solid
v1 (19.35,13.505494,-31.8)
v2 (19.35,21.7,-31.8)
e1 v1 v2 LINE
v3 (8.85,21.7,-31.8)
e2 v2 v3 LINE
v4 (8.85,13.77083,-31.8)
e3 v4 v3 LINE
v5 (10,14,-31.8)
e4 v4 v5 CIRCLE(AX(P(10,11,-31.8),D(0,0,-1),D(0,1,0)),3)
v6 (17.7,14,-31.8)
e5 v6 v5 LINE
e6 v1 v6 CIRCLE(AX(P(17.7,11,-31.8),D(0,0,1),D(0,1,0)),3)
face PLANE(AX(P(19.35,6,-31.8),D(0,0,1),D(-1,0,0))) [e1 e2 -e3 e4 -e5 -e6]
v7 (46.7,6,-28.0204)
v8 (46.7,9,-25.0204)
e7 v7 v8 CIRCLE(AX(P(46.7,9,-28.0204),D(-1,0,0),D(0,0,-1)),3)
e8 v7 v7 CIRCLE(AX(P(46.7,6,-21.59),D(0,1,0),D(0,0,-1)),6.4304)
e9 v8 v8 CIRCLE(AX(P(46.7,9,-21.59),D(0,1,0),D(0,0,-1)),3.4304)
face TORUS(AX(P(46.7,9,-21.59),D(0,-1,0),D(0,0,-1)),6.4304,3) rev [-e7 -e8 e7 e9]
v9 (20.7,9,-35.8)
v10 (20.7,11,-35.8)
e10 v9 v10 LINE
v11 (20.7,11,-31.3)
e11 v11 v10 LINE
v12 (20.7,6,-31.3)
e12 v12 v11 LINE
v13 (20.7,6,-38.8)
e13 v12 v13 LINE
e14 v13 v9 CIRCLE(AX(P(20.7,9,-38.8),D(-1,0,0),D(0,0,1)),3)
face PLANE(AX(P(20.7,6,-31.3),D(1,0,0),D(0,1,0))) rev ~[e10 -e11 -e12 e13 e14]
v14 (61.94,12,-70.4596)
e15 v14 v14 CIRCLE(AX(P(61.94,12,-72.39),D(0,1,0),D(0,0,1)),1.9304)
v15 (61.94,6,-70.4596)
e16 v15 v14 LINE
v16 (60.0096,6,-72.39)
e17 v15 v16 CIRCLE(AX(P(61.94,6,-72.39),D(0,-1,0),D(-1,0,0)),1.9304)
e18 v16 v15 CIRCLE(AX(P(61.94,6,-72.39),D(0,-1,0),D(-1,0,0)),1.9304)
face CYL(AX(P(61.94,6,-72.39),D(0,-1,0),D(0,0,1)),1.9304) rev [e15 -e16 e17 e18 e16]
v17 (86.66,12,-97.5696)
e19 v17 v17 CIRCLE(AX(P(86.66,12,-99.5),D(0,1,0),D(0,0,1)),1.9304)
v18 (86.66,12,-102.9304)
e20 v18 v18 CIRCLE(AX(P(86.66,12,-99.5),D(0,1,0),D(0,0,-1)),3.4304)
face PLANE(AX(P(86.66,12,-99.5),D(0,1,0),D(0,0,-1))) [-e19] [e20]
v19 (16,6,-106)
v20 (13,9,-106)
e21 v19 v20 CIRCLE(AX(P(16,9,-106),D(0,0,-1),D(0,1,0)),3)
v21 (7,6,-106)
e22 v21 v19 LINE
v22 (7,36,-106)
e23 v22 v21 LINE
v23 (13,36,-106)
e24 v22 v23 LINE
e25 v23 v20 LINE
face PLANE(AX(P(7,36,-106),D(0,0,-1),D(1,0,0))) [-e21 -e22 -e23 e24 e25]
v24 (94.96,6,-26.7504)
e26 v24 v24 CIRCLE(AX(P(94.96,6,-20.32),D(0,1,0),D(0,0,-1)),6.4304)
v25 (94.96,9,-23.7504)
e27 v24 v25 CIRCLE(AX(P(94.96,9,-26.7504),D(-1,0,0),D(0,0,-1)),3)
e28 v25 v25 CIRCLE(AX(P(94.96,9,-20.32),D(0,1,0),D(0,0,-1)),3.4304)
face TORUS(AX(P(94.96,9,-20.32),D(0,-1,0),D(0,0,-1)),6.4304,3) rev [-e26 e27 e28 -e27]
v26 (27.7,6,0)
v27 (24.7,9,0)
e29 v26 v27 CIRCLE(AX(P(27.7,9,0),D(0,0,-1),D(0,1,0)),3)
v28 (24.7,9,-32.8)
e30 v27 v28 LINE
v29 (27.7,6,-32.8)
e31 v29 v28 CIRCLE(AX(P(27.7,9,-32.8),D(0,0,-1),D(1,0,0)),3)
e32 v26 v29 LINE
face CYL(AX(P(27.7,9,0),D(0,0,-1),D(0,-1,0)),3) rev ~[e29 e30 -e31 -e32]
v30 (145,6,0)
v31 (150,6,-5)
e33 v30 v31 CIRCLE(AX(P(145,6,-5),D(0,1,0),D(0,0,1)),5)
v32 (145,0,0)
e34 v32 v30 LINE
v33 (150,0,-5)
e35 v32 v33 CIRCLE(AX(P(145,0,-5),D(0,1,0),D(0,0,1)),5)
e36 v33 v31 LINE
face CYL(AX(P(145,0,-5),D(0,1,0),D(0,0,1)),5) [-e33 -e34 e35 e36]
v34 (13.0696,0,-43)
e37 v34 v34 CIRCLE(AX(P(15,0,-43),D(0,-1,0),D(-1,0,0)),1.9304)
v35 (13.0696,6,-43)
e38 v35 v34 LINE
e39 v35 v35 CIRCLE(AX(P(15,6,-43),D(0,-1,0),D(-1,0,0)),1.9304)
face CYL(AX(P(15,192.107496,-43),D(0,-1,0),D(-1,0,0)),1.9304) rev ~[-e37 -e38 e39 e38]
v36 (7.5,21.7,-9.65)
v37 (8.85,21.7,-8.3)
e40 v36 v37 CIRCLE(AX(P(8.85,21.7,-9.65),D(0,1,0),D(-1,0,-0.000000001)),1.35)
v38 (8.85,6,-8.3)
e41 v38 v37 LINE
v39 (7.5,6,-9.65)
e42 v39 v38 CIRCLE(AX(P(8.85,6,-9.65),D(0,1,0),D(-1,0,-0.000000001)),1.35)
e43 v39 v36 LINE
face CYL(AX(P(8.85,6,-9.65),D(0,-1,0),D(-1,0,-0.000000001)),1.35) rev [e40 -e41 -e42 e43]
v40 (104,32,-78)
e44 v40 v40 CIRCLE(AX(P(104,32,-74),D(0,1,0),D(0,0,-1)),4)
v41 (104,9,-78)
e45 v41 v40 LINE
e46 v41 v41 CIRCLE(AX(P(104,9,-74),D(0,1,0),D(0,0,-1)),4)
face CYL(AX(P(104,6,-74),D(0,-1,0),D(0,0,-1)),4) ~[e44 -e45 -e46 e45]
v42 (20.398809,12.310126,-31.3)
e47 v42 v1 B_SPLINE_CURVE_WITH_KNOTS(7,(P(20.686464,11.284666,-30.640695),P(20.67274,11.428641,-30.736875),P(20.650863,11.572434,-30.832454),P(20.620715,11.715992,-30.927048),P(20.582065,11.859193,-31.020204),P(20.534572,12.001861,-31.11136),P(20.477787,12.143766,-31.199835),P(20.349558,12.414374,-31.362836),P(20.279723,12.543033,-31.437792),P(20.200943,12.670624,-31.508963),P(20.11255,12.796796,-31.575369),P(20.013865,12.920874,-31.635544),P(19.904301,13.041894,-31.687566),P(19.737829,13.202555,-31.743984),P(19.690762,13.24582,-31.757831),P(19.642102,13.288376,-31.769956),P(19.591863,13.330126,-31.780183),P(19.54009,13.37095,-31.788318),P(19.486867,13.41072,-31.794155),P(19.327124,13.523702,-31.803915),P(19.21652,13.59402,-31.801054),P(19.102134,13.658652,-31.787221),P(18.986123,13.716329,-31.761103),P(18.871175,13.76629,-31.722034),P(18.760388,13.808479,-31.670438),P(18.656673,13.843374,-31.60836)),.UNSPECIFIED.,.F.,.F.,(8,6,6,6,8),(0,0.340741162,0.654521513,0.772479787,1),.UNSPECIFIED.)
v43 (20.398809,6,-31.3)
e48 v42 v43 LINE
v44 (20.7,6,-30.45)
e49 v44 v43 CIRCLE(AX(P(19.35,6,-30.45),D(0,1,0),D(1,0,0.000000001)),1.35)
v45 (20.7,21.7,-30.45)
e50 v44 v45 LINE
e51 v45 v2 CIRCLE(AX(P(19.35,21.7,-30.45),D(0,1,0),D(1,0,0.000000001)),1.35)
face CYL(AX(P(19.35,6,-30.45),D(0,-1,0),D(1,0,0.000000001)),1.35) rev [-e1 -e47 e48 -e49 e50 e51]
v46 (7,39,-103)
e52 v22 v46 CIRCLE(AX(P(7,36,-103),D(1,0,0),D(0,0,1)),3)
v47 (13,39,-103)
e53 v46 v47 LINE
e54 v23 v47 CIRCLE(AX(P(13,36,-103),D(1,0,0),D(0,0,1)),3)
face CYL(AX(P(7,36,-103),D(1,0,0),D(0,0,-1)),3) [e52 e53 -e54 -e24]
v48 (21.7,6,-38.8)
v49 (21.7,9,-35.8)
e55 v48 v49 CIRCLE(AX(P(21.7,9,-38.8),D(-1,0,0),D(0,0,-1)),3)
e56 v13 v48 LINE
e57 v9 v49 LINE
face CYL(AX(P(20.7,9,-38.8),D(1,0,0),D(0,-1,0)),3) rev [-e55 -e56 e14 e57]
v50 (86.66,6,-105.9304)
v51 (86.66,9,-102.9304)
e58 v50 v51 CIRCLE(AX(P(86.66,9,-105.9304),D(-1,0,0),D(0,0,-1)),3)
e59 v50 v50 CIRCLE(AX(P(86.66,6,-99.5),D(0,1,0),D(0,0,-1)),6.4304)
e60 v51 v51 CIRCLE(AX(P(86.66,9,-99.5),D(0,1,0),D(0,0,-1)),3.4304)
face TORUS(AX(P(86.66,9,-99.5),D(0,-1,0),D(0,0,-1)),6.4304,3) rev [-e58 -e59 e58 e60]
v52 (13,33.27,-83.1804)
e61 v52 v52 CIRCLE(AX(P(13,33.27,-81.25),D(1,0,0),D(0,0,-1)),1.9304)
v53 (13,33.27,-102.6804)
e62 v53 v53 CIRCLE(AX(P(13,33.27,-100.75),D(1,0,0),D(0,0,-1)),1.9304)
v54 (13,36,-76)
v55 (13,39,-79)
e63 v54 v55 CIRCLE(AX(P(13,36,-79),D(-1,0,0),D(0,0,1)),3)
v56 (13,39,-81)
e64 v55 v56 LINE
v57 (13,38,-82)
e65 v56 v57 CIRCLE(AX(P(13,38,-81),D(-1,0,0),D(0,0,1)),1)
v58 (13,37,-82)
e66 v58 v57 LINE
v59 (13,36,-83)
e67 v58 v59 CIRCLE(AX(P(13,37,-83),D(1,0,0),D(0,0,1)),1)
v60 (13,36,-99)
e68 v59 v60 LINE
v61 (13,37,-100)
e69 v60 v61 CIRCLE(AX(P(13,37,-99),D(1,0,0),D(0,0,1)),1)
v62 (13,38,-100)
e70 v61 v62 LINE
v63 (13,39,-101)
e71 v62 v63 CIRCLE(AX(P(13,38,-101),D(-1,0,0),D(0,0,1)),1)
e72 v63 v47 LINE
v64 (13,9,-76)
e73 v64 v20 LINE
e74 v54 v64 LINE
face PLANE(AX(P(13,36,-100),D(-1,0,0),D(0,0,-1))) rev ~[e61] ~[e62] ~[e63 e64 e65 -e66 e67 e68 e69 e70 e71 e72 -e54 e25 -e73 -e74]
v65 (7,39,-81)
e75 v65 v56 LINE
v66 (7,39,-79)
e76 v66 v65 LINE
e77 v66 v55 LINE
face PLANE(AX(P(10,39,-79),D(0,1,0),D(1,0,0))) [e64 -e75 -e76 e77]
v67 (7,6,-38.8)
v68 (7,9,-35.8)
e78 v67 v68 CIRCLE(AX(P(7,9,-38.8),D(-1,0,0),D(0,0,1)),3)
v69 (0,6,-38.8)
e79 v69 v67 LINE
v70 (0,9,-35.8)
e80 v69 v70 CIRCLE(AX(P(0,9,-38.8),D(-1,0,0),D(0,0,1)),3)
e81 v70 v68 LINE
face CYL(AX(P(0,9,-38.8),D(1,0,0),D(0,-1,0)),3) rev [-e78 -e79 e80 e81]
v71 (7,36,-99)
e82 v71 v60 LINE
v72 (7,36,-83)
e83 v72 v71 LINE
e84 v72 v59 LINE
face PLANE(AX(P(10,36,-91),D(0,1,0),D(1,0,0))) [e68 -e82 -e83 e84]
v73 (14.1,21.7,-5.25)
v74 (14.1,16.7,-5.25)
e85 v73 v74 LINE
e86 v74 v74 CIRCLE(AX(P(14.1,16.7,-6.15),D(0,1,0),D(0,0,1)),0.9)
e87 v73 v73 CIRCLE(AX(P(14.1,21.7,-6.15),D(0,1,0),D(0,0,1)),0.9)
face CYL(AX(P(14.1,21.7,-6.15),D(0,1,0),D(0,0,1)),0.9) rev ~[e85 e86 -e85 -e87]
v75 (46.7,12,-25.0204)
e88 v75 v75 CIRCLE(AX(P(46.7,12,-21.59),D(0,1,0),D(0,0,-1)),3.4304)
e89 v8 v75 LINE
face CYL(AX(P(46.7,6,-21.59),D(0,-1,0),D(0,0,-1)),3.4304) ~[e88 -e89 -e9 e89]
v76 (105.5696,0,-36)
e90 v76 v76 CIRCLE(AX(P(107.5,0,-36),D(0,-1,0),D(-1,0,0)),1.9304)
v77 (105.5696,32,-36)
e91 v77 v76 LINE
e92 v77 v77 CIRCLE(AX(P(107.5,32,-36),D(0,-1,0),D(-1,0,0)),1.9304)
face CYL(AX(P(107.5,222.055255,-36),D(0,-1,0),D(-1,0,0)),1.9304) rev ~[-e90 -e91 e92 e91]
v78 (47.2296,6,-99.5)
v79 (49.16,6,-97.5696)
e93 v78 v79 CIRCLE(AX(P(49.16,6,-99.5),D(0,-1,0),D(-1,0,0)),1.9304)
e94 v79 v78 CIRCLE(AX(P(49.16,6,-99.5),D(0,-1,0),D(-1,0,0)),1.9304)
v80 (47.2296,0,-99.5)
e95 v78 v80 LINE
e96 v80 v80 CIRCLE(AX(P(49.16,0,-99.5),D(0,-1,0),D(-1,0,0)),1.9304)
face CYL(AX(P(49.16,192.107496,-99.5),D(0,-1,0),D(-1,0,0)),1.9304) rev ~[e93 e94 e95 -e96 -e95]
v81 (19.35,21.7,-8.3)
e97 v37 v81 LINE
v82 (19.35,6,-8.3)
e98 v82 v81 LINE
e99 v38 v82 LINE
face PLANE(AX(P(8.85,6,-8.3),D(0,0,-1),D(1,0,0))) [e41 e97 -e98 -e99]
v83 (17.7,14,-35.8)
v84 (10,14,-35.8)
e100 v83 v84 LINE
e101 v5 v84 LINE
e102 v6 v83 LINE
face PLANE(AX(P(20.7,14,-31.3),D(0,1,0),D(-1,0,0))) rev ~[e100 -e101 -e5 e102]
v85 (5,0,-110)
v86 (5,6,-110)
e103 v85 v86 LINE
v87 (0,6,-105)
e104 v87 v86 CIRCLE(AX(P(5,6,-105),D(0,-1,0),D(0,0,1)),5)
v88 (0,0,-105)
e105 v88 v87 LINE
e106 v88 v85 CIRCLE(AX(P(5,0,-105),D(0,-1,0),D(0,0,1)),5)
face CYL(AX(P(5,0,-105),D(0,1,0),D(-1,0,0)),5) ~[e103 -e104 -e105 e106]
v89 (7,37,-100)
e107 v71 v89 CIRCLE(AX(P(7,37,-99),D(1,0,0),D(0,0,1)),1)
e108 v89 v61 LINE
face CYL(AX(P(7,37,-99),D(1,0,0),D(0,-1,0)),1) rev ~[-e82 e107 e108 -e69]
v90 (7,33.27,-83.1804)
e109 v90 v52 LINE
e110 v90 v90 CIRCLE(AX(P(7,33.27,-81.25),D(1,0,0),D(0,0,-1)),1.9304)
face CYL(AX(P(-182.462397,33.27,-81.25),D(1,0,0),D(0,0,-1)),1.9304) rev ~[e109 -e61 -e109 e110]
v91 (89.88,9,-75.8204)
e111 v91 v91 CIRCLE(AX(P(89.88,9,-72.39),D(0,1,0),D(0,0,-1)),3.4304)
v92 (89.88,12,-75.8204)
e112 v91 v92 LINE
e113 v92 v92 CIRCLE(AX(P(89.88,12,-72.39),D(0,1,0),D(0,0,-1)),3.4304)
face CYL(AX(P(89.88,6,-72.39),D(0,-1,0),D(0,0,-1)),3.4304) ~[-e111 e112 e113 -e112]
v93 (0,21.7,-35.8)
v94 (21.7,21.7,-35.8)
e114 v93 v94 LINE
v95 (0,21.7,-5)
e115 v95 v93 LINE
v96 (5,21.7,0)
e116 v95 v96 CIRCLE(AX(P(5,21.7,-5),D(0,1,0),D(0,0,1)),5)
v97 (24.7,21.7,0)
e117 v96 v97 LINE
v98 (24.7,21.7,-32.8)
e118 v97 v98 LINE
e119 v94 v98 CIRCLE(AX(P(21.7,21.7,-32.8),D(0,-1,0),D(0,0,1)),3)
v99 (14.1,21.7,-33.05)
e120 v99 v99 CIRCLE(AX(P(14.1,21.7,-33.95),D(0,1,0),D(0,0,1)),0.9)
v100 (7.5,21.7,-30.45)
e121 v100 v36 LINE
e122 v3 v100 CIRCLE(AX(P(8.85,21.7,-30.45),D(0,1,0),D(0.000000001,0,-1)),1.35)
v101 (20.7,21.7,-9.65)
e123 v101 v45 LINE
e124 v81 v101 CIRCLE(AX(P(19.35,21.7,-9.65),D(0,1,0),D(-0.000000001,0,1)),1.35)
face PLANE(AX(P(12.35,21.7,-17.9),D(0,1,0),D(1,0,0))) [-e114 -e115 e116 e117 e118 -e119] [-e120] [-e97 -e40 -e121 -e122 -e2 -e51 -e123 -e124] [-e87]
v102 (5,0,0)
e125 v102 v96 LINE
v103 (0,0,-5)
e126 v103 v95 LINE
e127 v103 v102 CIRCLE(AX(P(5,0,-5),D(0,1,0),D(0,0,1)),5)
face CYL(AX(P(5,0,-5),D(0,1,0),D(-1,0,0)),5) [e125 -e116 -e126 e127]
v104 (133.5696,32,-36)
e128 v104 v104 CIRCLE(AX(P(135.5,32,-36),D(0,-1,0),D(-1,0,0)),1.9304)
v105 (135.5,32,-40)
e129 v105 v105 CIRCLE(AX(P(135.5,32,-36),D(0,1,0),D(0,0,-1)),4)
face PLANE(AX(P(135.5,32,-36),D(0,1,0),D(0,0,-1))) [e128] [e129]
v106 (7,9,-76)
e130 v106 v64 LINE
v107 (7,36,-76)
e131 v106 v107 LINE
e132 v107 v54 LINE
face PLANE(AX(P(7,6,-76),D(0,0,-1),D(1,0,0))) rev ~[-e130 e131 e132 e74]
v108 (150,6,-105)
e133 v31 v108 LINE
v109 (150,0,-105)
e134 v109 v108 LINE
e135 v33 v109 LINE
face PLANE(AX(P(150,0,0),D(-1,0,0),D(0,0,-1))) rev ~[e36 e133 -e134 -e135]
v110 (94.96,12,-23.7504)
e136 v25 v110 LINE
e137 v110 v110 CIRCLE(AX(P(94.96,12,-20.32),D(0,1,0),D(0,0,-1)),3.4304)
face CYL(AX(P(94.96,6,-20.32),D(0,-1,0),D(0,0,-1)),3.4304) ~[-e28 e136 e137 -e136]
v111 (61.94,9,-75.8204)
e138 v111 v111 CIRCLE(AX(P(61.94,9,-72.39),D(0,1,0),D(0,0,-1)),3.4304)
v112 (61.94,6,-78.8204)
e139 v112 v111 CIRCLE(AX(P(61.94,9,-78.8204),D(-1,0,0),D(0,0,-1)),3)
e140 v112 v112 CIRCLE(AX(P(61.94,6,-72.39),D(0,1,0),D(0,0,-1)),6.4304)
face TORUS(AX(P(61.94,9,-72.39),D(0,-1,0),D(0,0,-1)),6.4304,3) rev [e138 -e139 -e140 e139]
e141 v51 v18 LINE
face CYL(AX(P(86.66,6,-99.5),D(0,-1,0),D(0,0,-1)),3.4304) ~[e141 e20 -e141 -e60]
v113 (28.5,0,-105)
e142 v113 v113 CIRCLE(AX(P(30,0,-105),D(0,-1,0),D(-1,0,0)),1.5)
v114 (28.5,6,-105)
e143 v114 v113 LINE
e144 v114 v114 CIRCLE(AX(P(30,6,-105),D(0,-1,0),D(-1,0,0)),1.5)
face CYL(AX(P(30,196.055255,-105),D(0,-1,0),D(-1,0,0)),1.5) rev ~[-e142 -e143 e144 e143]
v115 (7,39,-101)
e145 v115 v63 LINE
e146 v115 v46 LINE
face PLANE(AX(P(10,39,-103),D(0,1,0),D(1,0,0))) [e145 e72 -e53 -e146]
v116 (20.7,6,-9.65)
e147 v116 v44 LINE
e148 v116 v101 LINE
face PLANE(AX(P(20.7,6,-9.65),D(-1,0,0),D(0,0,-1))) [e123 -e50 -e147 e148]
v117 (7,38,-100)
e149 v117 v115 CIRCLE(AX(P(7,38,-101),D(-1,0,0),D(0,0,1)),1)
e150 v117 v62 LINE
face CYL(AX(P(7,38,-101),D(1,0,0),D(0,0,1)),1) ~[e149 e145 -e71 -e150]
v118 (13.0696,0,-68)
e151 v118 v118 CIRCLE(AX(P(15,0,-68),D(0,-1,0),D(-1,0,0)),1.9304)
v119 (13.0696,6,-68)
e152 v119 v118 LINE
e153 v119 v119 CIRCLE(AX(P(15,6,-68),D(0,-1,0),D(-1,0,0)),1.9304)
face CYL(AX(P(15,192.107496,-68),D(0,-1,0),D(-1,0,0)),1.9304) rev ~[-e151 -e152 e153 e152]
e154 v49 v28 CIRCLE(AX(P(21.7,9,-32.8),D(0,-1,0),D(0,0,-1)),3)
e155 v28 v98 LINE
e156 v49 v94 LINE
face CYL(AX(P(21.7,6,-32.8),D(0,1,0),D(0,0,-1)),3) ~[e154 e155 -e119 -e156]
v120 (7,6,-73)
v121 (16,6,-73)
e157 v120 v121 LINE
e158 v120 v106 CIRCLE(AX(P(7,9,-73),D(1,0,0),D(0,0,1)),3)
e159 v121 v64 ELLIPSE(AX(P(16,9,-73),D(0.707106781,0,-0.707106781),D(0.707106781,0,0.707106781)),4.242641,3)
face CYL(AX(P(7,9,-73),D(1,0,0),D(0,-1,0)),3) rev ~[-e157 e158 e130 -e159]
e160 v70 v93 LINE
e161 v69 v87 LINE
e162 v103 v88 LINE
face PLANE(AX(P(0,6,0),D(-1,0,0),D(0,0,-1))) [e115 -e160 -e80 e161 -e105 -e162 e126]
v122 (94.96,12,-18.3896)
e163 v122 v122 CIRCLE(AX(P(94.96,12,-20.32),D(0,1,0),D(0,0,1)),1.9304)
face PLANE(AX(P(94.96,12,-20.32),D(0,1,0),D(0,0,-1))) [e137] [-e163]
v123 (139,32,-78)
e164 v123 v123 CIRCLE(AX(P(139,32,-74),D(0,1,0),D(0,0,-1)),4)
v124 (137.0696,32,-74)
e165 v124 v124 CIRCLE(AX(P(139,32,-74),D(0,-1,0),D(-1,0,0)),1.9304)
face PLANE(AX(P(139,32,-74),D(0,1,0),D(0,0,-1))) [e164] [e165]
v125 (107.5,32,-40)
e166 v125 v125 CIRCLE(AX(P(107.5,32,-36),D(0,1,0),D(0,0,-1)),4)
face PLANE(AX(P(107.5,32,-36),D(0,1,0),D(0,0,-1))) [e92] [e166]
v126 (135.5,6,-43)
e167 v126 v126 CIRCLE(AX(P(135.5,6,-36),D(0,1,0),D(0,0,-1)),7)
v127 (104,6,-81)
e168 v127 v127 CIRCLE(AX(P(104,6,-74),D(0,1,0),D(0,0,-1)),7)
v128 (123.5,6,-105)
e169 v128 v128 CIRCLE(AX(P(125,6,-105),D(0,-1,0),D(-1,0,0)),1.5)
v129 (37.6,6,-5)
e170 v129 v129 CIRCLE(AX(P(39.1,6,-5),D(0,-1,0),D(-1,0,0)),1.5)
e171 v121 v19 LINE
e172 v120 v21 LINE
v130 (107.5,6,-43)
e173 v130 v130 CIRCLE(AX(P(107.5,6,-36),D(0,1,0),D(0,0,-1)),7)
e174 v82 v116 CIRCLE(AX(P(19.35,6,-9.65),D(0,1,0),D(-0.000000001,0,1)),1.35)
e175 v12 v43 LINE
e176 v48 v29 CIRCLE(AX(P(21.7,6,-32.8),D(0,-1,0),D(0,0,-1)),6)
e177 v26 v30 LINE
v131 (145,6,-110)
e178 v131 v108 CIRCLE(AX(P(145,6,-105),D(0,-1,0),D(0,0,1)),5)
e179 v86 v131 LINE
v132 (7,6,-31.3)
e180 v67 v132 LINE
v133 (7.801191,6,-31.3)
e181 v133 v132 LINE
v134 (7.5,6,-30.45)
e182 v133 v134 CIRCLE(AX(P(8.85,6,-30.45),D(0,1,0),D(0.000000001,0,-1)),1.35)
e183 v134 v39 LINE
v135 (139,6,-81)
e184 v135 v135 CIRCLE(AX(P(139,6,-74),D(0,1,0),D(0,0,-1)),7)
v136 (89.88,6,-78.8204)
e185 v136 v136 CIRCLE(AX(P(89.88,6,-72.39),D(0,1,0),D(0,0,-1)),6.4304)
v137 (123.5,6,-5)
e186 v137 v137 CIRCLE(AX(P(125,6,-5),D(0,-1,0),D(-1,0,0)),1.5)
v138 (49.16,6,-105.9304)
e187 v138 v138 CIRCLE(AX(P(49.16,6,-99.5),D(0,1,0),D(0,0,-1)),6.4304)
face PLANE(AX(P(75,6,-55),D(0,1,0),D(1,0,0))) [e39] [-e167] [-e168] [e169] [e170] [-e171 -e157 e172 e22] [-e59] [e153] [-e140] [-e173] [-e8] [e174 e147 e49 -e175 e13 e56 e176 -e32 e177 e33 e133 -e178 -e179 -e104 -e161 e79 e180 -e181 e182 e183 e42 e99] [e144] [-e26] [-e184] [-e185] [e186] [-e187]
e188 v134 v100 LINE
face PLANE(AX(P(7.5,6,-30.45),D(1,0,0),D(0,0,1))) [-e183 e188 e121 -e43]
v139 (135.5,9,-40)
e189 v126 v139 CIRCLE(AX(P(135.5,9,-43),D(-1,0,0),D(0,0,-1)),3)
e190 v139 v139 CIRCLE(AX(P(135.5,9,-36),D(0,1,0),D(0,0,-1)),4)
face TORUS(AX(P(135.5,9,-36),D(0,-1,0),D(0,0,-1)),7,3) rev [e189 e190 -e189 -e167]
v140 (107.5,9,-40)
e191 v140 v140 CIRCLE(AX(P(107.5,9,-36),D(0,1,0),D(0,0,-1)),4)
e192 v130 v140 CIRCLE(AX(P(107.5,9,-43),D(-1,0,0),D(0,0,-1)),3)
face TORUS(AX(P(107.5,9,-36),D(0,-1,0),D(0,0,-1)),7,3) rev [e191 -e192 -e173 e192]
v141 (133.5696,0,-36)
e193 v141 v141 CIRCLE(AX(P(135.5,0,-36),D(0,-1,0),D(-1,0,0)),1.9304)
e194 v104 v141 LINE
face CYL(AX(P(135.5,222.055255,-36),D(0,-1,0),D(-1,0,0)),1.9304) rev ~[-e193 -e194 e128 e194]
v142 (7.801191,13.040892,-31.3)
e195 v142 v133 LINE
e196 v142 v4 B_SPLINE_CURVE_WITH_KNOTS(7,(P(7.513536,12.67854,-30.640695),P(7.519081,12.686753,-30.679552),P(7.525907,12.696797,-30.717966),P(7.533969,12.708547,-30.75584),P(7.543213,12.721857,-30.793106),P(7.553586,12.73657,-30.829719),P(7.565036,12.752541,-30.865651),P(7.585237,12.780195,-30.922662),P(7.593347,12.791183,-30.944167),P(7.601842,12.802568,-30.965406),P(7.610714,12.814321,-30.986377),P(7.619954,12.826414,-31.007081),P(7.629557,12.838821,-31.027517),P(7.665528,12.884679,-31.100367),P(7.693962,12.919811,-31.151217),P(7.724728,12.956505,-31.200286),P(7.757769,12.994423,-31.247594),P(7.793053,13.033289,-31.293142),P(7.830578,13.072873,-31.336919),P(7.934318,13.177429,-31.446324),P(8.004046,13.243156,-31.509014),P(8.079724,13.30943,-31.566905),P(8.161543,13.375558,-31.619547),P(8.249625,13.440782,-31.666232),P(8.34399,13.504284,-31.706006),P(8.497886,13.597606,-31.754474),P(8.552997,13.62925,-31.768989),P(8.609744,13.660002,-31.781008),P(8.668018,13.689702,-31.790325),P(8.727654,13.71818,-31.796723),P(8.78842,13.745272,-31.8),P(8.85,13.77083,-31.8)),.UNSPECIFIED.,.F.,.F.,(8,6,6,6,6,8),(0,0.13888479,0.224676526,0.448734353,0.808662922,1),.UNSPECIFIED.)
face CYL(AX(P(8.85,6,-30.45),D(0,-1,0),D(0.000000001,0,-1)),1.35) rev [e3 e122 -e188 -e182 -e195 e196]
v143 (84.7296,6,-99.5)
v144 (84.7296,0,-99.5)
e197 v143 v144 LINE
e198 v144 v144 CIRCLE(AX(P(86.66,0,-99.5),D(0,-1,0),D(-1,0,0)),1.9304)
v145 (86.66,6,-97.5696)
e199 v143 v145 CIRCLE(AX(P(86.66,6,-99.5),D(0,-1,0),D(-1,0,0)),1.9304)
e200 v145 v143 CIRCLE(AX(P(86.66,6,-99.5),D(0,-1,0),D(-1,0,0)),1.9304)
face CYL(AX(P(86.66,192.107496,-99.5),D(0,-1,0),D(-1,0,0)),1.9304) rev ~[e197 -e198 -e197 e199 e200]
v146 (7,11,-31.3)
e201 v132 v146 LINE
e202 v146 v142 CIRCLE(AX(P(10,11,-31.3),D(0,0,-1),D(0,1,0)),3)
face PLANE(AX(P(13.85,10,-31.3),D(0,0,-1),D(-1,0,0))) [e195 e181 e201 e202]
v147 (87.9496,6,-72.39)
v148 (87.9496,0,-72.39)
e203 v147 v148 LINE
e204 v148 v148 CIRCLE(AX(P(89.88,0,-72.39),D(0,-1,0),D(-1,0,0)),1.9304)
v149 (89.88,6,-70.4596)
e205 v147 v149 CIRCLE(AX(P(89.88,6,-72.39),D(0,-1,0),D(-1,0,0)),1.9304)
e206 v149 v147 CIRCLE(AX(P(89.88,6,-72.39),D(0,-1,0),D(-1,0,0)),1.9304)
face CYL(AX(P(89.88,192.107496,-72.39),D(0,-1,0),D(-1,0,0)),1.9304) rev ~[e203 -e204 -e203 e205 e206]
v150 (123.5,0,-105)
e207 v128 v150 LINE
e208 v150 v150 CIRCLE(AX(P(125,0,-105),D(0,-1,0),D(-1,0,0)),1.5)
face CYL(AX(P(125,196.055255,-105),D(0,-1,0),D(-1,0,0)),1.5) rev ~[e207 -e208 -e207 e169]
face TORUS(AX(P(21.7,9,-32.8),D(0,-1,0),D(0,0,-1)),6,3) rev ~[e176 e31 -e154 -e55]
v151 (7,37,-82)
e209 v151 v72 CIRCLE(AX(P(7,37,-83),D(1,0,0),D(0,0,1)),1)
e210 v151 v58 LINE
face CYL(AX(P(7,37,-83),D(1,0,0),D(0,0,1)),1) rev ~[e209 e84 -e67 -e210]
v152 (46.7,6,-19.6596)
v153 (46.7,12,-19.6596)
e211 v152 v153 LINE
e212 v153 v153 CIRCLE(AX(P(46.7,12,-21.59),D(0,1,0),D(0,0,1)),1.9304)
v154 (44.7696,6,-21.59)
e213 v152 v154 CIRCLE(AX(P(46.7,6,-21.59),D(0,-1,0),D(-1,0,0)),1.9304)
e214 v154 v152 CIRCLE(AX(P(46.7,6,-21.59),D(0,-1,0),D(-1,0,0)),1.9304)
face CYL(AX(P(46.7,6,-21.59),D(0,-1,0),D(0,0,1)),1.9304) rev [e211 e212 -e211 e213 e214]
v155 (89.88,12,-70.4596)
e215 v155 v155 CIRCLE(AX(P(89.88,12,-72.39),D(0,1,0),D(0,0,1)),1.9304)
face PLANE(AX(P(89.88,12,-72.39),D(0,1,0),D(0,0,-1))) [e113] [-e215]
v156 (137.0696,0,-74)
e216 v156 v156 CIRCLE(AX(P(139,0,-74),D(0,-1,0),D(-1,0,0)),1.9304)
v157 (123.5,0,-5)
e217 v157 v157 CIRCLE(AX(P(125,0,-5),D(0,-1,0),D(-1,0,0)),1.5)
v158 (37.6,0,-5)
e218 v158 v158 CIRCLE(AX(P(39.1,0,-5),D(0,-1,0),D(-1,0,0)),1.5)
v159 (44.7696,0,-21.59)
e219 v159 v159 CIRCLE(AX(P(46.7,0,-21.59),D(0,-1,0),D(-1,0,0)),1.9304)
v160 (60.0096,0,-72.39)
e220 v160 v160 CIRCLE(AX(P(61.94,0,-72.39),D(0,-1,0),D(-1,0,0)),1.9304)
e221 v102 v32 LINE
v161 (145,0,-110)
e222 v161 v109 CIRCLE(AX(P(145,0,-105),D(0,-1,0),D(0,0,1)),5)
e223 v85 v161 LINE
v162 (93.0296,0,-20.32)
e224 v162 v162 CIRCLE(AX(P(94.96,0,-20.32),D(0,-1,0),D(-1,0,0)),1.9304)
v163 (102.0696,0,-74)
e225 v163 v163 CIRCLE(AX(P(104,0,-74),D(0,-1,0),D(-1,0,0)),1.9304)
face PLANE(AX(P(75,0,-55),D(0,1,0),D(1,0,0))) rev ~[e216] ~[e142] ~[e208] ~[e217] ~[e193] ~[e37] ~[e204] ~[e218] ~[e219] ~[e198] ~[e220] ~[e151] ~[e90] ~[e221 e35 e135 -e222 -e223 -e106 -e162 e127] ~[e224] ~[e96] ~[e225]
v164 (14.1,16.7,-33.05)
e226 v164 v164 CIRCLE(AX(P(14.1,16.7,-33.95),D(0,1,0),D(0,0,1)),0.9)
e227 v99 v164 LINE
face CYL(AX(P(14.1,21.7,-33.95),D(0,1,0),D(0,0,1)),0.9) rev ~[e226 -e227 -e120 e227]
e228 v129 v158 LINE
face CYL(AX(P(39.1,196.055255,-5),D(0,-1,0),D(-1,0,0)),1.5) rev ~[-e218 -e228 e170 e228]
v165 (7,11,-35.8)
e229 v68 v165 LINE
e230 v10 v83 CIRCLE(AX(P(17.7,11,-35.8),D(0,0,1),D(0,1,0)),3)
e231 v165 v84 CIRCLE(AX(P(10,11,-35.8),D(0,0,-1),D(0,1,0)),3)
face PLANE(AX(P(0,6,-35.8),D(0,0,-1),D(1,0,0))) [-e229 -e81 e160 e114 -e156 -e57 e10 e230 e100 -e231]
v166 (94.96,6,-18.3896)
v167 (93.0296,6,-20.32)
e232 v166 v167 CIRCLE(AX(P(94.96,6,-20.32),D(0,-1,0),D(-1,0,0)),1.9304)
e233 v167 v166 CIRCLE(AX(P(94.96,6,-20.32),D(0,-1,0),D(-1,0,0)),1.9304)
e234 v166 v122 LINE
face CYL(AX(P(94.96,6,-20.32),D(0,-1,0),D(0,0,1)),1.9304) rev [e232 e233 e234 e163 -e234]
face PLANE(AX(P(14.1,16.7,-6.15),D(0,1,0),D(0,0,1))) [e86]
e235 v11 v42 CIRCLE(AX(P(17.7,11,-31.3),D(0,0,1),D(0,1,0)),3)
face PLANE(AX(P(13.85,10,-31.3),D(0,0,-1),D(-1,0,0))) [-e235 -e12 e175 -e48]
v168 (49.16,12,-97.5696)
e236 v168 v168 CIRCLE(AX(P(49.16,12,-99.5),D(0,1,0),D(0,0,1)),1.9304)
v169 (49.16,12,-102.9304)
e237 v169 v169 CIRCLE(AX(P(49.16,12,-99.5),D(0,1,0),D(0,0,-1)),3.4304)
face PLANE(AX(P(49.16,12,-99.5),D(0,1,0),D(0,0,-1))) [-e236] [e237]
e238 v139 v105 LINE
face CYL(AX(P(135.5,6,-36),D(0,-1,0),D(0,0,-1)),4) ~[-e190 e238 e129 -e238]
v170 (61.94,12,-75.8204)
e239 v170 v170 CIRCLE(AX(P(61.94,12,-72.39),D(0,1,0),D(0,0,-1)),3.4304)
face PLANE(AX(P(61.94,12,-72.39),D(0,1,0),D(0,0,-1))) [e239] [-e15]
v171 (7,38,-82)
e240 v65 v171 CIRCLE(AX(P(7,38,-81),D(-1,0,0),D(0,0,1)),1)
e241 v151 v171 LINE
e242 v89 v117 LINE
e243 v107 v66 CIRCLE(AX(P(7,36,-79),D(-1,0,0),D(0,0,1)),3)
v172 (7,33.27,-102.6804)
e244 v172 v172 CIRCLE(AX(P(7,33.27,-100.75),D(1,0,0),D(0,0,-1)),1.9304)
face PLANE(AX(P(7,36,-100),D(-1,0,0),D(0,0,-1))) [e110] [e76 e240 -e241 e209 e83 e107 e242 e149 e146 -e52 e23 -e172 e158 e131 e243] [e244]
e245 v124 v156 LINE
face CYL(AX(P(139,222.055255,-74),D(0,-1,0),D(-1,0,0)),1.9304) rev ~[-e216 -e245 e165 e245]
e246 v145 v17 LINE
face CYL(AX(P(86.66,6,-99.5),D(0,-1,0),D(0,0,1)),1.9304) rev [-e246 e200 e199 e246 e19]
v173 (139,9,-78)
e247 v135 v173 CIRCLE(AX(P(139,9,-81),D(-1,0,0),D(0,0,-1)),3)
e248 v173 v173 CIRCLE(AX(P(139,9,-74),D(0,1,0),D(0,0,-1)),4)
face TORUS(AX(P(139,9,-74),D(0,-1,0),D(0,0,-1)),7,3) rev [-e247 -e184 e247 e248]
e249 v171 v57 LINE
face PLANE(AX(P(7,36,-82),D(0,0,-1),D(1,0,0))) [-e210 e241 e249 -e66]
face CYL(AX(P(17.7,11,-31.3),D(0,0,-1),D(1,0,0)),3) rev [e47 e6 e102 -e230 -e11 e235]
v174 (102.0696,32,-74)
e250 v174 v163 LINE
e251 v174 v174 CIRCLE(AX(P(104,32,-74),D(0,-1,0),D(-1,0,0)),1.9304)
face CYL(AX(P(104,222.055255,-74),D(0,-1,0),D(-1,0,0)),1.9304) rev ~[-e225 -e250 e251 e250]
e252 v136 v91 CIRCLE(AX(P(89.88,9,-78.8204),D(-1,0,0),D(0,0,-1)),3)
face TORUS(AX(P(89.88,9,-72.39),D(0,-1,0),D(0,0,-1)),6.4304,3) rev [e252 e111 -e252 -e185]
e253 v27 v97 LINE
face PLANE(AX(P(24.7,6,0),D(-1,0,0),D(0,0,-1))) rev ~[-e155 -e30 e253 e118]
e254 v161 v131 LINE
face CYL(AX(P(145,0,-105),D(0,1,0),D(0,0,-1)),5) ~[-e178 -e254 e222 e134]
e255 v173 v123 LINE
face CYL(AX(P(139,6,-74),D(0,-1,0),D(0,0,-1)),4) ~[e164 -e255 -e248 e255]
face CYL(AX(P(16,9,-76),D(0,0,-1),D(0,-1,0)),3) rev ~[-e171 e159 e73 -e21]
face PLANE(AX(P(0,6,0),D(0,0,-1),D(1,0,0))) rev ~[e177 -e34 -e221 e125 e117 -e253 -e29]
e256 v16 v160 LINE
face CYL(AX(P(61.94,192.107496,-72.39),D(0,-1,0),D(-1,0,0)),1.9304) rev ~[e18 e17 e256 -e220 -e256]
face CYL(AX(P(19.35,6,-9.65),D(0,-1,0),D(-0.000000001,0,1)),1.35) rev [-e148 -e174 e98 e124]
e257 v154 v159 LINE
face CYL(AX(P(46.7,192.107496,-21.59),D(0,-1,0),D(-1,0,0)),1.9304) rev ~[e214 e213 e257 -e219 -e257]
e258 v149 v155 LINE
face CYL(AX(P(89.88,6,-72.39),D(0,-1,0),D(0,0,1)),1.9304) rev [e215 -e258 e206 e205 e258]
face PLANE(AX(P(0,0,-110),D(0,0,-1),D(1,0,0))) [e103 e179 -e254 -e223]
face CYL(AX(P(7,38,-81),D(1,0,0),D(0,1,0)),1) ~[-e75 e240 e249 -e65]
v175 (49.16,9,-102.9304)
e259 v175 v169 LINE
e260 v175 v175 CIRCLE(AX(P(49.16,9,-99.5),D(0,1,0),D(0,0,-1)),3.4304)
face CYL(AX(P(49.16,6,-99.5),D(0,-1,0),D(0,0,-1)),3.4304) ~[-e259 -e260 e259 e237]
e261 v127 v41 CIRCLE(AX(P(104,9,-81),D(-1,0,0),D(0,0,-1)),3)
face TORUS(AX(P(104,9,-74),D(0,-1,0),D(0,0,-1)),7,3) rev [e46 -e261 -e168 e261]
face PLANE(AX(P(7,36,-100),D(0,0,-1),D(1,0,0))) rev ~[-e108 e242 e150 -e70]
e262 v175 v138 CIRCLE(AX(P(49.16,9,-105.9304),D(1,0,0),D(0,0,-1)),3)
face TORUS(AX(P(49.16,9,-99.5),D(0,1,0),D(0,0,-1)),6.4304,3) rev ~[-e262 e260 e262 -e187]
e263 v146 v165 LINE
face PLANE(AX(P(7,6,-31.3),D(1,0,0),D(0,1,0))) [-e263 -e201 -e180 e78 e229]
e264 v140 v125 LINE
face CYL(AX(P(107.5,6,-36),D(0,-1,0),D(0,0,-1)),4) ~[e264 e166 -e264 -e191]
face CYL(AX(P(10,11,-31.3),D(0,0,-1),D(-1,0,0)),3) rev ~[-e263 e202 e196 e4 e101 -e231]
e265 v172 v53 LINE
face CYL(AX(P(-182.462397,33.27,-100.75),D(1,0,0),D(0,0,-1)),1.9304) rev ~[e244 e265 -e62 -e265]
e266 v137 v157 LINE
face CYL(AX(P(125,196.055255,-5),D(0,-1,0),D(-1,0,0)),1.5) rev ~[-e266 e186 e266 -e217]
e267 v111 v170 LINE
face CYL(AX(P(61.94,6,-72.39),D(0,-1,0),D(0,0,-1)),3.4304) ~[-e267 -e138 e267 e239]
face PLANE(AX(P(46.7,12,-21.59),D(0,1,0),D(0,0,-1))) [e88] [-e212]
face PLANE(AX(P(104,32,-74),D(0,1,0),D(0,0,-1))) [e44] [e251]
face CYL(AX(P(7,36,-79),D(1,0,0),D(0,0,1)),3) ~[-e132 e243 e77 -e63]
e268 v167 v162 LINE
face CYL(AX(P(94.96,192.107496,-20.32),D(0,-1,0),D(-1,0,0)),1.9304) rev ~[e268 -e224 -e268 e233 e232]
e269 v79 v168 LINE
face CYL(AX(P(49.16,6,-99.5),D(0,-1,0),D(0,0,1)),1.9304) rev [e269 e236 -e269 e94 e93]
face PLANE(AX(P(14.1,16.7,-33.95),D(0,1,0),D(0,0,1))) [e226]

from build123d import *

# Parameters (mm, degrees)
SKETCH1_W                   = 150
SKETCH1_H                   = 110
BOSS_EXTRUDE1_DEPTH         = 6
F_8_0_199_DIAMETER_HOLE1_D  = 3.8608
SKETCH4_W                   = 6
SKETCH4_H                   = 30
BOSS_EXTRUDE2_DEPTH         = 30
F_24_0_152_DIAMETER_HOLE1_D = 3.8608
SKETCH7_W                   = 6
SKETCH7_H                   = 6
BOSS_EXTRUDE3_DEPTH         = 3
SKETCH9_W                   = 24.7
SKETCH9_H                   = 35.8
BOSS_EXTRUDE4_DEPTH         = 15.7
CUT_EXTRUDE1_START          = -4.5
SKETCH10_W                  = 13.7
SKETCH10_H                  = 8
CUT_EXTRUDE1_DEPTH          = 4.5
SKETCH11_R                  = 4
BOSS_EXTRUDE5_DEPTH         = 26
F_24_0_152_DIAMETER_HOLE2_D = 3.8608
FILLET3_R                   = 5
SKETCH17_R                  = 3.4304
SKETCH17_R_2                = 1.9304
BOSS_EXTRUDE6_DEPTH         = 6
FILLET4_R                   = 3
FILLET5_R                   = 1
F_3_0MM_DOWEL_HOLE1_D       = 3
SKETCH16_R                  = 0.9
CUT_EXTRUDE2_DEPTH          = 5


with BuildPart() as part:
    # Sketch1 → Boss-Extrude1 (new body)
    with BuildSketch(Plane(origin=(0, 0, 0), x_dir=(1, 0, 0), z_dir=(0, 1, 0))):
        with Locations((75, 55)):
            Rectangle(SKETCH1_W, SKETCH1_H)
    extrude(amount=BOSS_EXTRUDE1_DEPTH)

    # #8 (0.199) Diameter Hole1 (through all)
    with Locations(Plane(origin=(0, 6, 0), x_dir=(1, 0, 0), z_dir=(0, 1, 0))):
        with Locations((89.88, 72.39), (61.94, 72.39), (46.7, 21.59), (94.96, 20.32), (49.16, 99.5), (86.66, 99.5), (15, 68), (15, 43)):
            Hole(F_8_0_199_DIAMETER_HOLE1_D / 2)

    # Sketch4 → Boss-Extrude2 (add)
    with BuildSketch(Plane(origin=(0, 6, 0), x_dir=(1, 0, 0), z_dir=(0, 1, 0))):
        with Locations((10, 91)):
            Rectangle(SKETCH4_W, SKETCH4_H)
    extrude(amount=BOSS_EXTRUDE2_DEPTH)

    # #24 (0.152) Diameter Hole1 (through all)
    with Locations(Plane.ZY.offset(-7)):
        with Locations((-81.25, 33.27), (-100.75, 33.27)):
            Hole(F_24_0_152_DIAMETER_HOLE1_D / 2)

    # Sketch7 → Boss-Extrude3 (add)
    with BuildSketch(Plane(origin=(0, 36, 0), x_dir=(1, 0, 0), z_dir=(0, 1, 0))):
        with Locations((10, 103)):
            Rectangle(SKETCH7_W, SKETCH7_H)
        with Locations((10, 79)):
            Rectangle(SKETCH7_W, SKETCH7_H)
    extrude(amount=BOSS_EXTRUDE3_DEPTH)

    # Sketch9 → Boss-Extrude4 (add)
    with BuildSketch(Plane(origin=(0, 6, 0), x_dir=(1, 0, 0), z_dir=(0, 1, 0))):
        with Locations((12.35, 17.9)):
            Rectangle(SKETCH9_W, SKETCH9_H)
        with BuildLine():
            Line((20.7, 9.65), (20.7, 30.45))
            ThreePointArc((20.7, 30.45), (20.304594155, 31.404594155), (19.35, 31.8))
            Line((19.35, 31.8), (8.85, 31.8))
            ThreePointArc((8.85, 31.8), (7.895405845, 31.404594155), (7.5, 30.45))
            Line((7.5, 30.45), (7.5, 9.65))
            ThreePointArc((7.5, 9.65), (7.895405845, 8.695405845), (8.85, 8.3))
            Line((8.85, 8.3), (19.35, 8.3))
            ThreePointArc((19.35, 8.3), (20.304594155, 8.695405845), (20.7, 9.65))
        make_face(mode=Mode.SUBTRACT)
    extrude(amount=BOSS_EXTRUDE4_DEPTH)

    # Sketch10 → Cut-Extrude1 (cut)
    with BuildSketch(Plane(origin=(0, 0, -35.8), x_dir=(-1, 0, 0), z_dir=(0, 0, -1)).offset(CUT_EXTRUDE1_START)):
        with Locations((-13.85, 10)):
            Rectangle(SKETCH10_W, SKETCH10_H)
    extrude(amount=CUT_EXTRUDE1_DEPTH, mode=Mode.SUBTRACT)

    # Sketch11 → Boss-Extrude5 (add)
    with BuildSketch(Plane(origin=(0, 6, 0), x_dir=(1, 0, 0), z_dir=(0, 1, 0))):
        with Locations(Location((104, 74, 0), (0, 0, 90))):
            Circle(SKETCH11_R)
        with Locations(Location((139, 74, 0), (0, 0, 90))):
            Circle(SKETCH11_R)
        with Locations(Location((107.5, 36, 0), (0, 0, 90))):
            Circle(SKETCH11_R)
        with Locations(Location((135.5, 36, 0), (0, 0, 90))):
            Circle(SKETCH11_R)
    extrude(amount=BOSS_EXTRUDE5_DEPTH)

    # #24 (0.152) Diameter Hole2 (through all)
    with Locations(Plane(origin=(0, 32, 0), x_dir=(1, 0, 0), z_dir=(0, 1, 0))):
        with Locations((104, 74), (139, 74), (107.5, 36), (135.5, 36)):
            Hole(F_24_0_152_DIAMETER_HOLE2_D / 2)

    # Fillet3
    fillet3_edges = [part.edges().sort_by_distance(p)[0] for p in [
        (0, 3, -110),
        (150, 3, -110),
        (150, 3, 0),
        (0, 10.85, 0),
    ]]
    fillet(fillet3_edges, radius=FILLET3_R)

    # Sketch17 → Boss-Extrude6 (add)
    with BuildSketch(Plane(origin=(0, 6, 0), x_dir=(1, 0, 0), z_dir=(0, 1, 0))):
        with Locations(Location((49.16, 99.5, 0), (0, 0, 90))):
            Circle(SKETCH17_R)
        with Locations(Location((49.16, 99.5, 0), (0, 0, 270))):
            Circle(SKETCH17_R_2, mode=Mode.SUBTRACT)
        with Locations(Location((86.66, 99.5, 0), (0, 0, 90))):
            Circle(SKETCH17_R)
        with Locations(Location((86.66, 99.5, 0), (0, 0, 270))):
            Circle(SKETCH17_R_2, mode=Mode.SUBTRACT)
        with Locations(Location((61.94, 72.39, 0), (0, 0, 90))):
            Circle(SKETCH17_R)
        with Locations(Location((61.94, 72.39, 0), (0, 0, 270))):
            Circle(SKETCH17_R_2, mode=Mode.SUBTRACT)
        with Locations(Location((89.88, 72.39, 0), (0, 0, 90))):
            Circle(SKETCH17_R)
        with Locations(Location((89.88, 72.39, 0), (0, 0, 270))):
            Circle(SKETCH17_R_2, mode=Mode.SUBTRACT)
        with Locations(Location((46.7, 21.59, 0), (0, 0, 90))):
            Circle(SKETCH17_R)
        with Locations(Location((46.7, 21.59, 0), (0, 0, 270))):
            Circle(SKETCH17_R_2, mode=Mode.SUBTRACT)
        with Locations(Location((94.96, 20.32, 0), (0, 0, 90))):
            Circle(SKETCH17_R)
        with Locations(Location((94.96, 20.32, 0), (0, 0, 270))):
            Circle(SKETCH17_R_2, mode=Mode.SUBTRACT)
    extrude(amount=BOSS_EXTRUDE6_DEPTH)

    # Fillet4
    fillet4_edges = [part.edges().sort_by_distance(p)[0] for p in [
        (107.5, 6, -32),
        (10, 39, -76),
        (10, 39, -106),
        (10, 6, -76),
        (13, 6, -91),
        (20.7, 14, -33.55),
        (7, 14, -33.55),
        (24.7, 13.85, -35.8),
        (22.7, 6, -35.8),
        (3.5, 6, -35.8),
        (24.7, 6, -17.9),
        (104, 6, -70),
        (139, 6, -70),
        (135.5, 6, -32),
        (49.16, 6, -96.0696),
        (86.66, 6, -96.0696),
        (61.94, 6, -68.9596),
        (89.88, 6, -68.9596),
        (94.96, 6, -16.8896),
        (46.7, 6, -18.1596),
    ]]
    fillet(fillet4_edges, radius=FILLET4_R)

    # Fillet5
    fillet5_edges = [part.edges().sort_by_distance(p)[0] for p in [
        (10, 36, -100),
        (10, 39, -100),
        (10, 36, -82),
        (10, 39, -82),
    ]]
    fillet(fillet5_edges, radius=FILLET5_R)

    # Ø3.0mm Dowel Hole1 (through all)
    with Locations(Plane(origin=(0, 6, 0), x_dir=(1, 0, 0), z_dir=(0, 1, 0))):
        with Locations((30, 105), (39.1, 5), (125, 5), (125, 105)):
            Hole(F_3_0MM_DOWEL_HOLE1_D / 2)

    # Sketch16 → Cut-Extrude2 (cut)
    with BuildSketch(Plane(origin=(0, 21.7, 0), x_dir=(1, 0, 0), z_dir=(0, 1, 0))):
        with Locations(Location((14.1, 6.15, 0), (0, 0, 270))):
            Circle(SKETCH16_R)
        with Locations(Location((14.1, 33.95, 0), (0, 0, 270))):
            Circle(SKETCH16_R)
    extrude(amount=-CUT_EXTRUDE2_DEPTH, mode=Mode.SUBTRACT)


solid = part.part
